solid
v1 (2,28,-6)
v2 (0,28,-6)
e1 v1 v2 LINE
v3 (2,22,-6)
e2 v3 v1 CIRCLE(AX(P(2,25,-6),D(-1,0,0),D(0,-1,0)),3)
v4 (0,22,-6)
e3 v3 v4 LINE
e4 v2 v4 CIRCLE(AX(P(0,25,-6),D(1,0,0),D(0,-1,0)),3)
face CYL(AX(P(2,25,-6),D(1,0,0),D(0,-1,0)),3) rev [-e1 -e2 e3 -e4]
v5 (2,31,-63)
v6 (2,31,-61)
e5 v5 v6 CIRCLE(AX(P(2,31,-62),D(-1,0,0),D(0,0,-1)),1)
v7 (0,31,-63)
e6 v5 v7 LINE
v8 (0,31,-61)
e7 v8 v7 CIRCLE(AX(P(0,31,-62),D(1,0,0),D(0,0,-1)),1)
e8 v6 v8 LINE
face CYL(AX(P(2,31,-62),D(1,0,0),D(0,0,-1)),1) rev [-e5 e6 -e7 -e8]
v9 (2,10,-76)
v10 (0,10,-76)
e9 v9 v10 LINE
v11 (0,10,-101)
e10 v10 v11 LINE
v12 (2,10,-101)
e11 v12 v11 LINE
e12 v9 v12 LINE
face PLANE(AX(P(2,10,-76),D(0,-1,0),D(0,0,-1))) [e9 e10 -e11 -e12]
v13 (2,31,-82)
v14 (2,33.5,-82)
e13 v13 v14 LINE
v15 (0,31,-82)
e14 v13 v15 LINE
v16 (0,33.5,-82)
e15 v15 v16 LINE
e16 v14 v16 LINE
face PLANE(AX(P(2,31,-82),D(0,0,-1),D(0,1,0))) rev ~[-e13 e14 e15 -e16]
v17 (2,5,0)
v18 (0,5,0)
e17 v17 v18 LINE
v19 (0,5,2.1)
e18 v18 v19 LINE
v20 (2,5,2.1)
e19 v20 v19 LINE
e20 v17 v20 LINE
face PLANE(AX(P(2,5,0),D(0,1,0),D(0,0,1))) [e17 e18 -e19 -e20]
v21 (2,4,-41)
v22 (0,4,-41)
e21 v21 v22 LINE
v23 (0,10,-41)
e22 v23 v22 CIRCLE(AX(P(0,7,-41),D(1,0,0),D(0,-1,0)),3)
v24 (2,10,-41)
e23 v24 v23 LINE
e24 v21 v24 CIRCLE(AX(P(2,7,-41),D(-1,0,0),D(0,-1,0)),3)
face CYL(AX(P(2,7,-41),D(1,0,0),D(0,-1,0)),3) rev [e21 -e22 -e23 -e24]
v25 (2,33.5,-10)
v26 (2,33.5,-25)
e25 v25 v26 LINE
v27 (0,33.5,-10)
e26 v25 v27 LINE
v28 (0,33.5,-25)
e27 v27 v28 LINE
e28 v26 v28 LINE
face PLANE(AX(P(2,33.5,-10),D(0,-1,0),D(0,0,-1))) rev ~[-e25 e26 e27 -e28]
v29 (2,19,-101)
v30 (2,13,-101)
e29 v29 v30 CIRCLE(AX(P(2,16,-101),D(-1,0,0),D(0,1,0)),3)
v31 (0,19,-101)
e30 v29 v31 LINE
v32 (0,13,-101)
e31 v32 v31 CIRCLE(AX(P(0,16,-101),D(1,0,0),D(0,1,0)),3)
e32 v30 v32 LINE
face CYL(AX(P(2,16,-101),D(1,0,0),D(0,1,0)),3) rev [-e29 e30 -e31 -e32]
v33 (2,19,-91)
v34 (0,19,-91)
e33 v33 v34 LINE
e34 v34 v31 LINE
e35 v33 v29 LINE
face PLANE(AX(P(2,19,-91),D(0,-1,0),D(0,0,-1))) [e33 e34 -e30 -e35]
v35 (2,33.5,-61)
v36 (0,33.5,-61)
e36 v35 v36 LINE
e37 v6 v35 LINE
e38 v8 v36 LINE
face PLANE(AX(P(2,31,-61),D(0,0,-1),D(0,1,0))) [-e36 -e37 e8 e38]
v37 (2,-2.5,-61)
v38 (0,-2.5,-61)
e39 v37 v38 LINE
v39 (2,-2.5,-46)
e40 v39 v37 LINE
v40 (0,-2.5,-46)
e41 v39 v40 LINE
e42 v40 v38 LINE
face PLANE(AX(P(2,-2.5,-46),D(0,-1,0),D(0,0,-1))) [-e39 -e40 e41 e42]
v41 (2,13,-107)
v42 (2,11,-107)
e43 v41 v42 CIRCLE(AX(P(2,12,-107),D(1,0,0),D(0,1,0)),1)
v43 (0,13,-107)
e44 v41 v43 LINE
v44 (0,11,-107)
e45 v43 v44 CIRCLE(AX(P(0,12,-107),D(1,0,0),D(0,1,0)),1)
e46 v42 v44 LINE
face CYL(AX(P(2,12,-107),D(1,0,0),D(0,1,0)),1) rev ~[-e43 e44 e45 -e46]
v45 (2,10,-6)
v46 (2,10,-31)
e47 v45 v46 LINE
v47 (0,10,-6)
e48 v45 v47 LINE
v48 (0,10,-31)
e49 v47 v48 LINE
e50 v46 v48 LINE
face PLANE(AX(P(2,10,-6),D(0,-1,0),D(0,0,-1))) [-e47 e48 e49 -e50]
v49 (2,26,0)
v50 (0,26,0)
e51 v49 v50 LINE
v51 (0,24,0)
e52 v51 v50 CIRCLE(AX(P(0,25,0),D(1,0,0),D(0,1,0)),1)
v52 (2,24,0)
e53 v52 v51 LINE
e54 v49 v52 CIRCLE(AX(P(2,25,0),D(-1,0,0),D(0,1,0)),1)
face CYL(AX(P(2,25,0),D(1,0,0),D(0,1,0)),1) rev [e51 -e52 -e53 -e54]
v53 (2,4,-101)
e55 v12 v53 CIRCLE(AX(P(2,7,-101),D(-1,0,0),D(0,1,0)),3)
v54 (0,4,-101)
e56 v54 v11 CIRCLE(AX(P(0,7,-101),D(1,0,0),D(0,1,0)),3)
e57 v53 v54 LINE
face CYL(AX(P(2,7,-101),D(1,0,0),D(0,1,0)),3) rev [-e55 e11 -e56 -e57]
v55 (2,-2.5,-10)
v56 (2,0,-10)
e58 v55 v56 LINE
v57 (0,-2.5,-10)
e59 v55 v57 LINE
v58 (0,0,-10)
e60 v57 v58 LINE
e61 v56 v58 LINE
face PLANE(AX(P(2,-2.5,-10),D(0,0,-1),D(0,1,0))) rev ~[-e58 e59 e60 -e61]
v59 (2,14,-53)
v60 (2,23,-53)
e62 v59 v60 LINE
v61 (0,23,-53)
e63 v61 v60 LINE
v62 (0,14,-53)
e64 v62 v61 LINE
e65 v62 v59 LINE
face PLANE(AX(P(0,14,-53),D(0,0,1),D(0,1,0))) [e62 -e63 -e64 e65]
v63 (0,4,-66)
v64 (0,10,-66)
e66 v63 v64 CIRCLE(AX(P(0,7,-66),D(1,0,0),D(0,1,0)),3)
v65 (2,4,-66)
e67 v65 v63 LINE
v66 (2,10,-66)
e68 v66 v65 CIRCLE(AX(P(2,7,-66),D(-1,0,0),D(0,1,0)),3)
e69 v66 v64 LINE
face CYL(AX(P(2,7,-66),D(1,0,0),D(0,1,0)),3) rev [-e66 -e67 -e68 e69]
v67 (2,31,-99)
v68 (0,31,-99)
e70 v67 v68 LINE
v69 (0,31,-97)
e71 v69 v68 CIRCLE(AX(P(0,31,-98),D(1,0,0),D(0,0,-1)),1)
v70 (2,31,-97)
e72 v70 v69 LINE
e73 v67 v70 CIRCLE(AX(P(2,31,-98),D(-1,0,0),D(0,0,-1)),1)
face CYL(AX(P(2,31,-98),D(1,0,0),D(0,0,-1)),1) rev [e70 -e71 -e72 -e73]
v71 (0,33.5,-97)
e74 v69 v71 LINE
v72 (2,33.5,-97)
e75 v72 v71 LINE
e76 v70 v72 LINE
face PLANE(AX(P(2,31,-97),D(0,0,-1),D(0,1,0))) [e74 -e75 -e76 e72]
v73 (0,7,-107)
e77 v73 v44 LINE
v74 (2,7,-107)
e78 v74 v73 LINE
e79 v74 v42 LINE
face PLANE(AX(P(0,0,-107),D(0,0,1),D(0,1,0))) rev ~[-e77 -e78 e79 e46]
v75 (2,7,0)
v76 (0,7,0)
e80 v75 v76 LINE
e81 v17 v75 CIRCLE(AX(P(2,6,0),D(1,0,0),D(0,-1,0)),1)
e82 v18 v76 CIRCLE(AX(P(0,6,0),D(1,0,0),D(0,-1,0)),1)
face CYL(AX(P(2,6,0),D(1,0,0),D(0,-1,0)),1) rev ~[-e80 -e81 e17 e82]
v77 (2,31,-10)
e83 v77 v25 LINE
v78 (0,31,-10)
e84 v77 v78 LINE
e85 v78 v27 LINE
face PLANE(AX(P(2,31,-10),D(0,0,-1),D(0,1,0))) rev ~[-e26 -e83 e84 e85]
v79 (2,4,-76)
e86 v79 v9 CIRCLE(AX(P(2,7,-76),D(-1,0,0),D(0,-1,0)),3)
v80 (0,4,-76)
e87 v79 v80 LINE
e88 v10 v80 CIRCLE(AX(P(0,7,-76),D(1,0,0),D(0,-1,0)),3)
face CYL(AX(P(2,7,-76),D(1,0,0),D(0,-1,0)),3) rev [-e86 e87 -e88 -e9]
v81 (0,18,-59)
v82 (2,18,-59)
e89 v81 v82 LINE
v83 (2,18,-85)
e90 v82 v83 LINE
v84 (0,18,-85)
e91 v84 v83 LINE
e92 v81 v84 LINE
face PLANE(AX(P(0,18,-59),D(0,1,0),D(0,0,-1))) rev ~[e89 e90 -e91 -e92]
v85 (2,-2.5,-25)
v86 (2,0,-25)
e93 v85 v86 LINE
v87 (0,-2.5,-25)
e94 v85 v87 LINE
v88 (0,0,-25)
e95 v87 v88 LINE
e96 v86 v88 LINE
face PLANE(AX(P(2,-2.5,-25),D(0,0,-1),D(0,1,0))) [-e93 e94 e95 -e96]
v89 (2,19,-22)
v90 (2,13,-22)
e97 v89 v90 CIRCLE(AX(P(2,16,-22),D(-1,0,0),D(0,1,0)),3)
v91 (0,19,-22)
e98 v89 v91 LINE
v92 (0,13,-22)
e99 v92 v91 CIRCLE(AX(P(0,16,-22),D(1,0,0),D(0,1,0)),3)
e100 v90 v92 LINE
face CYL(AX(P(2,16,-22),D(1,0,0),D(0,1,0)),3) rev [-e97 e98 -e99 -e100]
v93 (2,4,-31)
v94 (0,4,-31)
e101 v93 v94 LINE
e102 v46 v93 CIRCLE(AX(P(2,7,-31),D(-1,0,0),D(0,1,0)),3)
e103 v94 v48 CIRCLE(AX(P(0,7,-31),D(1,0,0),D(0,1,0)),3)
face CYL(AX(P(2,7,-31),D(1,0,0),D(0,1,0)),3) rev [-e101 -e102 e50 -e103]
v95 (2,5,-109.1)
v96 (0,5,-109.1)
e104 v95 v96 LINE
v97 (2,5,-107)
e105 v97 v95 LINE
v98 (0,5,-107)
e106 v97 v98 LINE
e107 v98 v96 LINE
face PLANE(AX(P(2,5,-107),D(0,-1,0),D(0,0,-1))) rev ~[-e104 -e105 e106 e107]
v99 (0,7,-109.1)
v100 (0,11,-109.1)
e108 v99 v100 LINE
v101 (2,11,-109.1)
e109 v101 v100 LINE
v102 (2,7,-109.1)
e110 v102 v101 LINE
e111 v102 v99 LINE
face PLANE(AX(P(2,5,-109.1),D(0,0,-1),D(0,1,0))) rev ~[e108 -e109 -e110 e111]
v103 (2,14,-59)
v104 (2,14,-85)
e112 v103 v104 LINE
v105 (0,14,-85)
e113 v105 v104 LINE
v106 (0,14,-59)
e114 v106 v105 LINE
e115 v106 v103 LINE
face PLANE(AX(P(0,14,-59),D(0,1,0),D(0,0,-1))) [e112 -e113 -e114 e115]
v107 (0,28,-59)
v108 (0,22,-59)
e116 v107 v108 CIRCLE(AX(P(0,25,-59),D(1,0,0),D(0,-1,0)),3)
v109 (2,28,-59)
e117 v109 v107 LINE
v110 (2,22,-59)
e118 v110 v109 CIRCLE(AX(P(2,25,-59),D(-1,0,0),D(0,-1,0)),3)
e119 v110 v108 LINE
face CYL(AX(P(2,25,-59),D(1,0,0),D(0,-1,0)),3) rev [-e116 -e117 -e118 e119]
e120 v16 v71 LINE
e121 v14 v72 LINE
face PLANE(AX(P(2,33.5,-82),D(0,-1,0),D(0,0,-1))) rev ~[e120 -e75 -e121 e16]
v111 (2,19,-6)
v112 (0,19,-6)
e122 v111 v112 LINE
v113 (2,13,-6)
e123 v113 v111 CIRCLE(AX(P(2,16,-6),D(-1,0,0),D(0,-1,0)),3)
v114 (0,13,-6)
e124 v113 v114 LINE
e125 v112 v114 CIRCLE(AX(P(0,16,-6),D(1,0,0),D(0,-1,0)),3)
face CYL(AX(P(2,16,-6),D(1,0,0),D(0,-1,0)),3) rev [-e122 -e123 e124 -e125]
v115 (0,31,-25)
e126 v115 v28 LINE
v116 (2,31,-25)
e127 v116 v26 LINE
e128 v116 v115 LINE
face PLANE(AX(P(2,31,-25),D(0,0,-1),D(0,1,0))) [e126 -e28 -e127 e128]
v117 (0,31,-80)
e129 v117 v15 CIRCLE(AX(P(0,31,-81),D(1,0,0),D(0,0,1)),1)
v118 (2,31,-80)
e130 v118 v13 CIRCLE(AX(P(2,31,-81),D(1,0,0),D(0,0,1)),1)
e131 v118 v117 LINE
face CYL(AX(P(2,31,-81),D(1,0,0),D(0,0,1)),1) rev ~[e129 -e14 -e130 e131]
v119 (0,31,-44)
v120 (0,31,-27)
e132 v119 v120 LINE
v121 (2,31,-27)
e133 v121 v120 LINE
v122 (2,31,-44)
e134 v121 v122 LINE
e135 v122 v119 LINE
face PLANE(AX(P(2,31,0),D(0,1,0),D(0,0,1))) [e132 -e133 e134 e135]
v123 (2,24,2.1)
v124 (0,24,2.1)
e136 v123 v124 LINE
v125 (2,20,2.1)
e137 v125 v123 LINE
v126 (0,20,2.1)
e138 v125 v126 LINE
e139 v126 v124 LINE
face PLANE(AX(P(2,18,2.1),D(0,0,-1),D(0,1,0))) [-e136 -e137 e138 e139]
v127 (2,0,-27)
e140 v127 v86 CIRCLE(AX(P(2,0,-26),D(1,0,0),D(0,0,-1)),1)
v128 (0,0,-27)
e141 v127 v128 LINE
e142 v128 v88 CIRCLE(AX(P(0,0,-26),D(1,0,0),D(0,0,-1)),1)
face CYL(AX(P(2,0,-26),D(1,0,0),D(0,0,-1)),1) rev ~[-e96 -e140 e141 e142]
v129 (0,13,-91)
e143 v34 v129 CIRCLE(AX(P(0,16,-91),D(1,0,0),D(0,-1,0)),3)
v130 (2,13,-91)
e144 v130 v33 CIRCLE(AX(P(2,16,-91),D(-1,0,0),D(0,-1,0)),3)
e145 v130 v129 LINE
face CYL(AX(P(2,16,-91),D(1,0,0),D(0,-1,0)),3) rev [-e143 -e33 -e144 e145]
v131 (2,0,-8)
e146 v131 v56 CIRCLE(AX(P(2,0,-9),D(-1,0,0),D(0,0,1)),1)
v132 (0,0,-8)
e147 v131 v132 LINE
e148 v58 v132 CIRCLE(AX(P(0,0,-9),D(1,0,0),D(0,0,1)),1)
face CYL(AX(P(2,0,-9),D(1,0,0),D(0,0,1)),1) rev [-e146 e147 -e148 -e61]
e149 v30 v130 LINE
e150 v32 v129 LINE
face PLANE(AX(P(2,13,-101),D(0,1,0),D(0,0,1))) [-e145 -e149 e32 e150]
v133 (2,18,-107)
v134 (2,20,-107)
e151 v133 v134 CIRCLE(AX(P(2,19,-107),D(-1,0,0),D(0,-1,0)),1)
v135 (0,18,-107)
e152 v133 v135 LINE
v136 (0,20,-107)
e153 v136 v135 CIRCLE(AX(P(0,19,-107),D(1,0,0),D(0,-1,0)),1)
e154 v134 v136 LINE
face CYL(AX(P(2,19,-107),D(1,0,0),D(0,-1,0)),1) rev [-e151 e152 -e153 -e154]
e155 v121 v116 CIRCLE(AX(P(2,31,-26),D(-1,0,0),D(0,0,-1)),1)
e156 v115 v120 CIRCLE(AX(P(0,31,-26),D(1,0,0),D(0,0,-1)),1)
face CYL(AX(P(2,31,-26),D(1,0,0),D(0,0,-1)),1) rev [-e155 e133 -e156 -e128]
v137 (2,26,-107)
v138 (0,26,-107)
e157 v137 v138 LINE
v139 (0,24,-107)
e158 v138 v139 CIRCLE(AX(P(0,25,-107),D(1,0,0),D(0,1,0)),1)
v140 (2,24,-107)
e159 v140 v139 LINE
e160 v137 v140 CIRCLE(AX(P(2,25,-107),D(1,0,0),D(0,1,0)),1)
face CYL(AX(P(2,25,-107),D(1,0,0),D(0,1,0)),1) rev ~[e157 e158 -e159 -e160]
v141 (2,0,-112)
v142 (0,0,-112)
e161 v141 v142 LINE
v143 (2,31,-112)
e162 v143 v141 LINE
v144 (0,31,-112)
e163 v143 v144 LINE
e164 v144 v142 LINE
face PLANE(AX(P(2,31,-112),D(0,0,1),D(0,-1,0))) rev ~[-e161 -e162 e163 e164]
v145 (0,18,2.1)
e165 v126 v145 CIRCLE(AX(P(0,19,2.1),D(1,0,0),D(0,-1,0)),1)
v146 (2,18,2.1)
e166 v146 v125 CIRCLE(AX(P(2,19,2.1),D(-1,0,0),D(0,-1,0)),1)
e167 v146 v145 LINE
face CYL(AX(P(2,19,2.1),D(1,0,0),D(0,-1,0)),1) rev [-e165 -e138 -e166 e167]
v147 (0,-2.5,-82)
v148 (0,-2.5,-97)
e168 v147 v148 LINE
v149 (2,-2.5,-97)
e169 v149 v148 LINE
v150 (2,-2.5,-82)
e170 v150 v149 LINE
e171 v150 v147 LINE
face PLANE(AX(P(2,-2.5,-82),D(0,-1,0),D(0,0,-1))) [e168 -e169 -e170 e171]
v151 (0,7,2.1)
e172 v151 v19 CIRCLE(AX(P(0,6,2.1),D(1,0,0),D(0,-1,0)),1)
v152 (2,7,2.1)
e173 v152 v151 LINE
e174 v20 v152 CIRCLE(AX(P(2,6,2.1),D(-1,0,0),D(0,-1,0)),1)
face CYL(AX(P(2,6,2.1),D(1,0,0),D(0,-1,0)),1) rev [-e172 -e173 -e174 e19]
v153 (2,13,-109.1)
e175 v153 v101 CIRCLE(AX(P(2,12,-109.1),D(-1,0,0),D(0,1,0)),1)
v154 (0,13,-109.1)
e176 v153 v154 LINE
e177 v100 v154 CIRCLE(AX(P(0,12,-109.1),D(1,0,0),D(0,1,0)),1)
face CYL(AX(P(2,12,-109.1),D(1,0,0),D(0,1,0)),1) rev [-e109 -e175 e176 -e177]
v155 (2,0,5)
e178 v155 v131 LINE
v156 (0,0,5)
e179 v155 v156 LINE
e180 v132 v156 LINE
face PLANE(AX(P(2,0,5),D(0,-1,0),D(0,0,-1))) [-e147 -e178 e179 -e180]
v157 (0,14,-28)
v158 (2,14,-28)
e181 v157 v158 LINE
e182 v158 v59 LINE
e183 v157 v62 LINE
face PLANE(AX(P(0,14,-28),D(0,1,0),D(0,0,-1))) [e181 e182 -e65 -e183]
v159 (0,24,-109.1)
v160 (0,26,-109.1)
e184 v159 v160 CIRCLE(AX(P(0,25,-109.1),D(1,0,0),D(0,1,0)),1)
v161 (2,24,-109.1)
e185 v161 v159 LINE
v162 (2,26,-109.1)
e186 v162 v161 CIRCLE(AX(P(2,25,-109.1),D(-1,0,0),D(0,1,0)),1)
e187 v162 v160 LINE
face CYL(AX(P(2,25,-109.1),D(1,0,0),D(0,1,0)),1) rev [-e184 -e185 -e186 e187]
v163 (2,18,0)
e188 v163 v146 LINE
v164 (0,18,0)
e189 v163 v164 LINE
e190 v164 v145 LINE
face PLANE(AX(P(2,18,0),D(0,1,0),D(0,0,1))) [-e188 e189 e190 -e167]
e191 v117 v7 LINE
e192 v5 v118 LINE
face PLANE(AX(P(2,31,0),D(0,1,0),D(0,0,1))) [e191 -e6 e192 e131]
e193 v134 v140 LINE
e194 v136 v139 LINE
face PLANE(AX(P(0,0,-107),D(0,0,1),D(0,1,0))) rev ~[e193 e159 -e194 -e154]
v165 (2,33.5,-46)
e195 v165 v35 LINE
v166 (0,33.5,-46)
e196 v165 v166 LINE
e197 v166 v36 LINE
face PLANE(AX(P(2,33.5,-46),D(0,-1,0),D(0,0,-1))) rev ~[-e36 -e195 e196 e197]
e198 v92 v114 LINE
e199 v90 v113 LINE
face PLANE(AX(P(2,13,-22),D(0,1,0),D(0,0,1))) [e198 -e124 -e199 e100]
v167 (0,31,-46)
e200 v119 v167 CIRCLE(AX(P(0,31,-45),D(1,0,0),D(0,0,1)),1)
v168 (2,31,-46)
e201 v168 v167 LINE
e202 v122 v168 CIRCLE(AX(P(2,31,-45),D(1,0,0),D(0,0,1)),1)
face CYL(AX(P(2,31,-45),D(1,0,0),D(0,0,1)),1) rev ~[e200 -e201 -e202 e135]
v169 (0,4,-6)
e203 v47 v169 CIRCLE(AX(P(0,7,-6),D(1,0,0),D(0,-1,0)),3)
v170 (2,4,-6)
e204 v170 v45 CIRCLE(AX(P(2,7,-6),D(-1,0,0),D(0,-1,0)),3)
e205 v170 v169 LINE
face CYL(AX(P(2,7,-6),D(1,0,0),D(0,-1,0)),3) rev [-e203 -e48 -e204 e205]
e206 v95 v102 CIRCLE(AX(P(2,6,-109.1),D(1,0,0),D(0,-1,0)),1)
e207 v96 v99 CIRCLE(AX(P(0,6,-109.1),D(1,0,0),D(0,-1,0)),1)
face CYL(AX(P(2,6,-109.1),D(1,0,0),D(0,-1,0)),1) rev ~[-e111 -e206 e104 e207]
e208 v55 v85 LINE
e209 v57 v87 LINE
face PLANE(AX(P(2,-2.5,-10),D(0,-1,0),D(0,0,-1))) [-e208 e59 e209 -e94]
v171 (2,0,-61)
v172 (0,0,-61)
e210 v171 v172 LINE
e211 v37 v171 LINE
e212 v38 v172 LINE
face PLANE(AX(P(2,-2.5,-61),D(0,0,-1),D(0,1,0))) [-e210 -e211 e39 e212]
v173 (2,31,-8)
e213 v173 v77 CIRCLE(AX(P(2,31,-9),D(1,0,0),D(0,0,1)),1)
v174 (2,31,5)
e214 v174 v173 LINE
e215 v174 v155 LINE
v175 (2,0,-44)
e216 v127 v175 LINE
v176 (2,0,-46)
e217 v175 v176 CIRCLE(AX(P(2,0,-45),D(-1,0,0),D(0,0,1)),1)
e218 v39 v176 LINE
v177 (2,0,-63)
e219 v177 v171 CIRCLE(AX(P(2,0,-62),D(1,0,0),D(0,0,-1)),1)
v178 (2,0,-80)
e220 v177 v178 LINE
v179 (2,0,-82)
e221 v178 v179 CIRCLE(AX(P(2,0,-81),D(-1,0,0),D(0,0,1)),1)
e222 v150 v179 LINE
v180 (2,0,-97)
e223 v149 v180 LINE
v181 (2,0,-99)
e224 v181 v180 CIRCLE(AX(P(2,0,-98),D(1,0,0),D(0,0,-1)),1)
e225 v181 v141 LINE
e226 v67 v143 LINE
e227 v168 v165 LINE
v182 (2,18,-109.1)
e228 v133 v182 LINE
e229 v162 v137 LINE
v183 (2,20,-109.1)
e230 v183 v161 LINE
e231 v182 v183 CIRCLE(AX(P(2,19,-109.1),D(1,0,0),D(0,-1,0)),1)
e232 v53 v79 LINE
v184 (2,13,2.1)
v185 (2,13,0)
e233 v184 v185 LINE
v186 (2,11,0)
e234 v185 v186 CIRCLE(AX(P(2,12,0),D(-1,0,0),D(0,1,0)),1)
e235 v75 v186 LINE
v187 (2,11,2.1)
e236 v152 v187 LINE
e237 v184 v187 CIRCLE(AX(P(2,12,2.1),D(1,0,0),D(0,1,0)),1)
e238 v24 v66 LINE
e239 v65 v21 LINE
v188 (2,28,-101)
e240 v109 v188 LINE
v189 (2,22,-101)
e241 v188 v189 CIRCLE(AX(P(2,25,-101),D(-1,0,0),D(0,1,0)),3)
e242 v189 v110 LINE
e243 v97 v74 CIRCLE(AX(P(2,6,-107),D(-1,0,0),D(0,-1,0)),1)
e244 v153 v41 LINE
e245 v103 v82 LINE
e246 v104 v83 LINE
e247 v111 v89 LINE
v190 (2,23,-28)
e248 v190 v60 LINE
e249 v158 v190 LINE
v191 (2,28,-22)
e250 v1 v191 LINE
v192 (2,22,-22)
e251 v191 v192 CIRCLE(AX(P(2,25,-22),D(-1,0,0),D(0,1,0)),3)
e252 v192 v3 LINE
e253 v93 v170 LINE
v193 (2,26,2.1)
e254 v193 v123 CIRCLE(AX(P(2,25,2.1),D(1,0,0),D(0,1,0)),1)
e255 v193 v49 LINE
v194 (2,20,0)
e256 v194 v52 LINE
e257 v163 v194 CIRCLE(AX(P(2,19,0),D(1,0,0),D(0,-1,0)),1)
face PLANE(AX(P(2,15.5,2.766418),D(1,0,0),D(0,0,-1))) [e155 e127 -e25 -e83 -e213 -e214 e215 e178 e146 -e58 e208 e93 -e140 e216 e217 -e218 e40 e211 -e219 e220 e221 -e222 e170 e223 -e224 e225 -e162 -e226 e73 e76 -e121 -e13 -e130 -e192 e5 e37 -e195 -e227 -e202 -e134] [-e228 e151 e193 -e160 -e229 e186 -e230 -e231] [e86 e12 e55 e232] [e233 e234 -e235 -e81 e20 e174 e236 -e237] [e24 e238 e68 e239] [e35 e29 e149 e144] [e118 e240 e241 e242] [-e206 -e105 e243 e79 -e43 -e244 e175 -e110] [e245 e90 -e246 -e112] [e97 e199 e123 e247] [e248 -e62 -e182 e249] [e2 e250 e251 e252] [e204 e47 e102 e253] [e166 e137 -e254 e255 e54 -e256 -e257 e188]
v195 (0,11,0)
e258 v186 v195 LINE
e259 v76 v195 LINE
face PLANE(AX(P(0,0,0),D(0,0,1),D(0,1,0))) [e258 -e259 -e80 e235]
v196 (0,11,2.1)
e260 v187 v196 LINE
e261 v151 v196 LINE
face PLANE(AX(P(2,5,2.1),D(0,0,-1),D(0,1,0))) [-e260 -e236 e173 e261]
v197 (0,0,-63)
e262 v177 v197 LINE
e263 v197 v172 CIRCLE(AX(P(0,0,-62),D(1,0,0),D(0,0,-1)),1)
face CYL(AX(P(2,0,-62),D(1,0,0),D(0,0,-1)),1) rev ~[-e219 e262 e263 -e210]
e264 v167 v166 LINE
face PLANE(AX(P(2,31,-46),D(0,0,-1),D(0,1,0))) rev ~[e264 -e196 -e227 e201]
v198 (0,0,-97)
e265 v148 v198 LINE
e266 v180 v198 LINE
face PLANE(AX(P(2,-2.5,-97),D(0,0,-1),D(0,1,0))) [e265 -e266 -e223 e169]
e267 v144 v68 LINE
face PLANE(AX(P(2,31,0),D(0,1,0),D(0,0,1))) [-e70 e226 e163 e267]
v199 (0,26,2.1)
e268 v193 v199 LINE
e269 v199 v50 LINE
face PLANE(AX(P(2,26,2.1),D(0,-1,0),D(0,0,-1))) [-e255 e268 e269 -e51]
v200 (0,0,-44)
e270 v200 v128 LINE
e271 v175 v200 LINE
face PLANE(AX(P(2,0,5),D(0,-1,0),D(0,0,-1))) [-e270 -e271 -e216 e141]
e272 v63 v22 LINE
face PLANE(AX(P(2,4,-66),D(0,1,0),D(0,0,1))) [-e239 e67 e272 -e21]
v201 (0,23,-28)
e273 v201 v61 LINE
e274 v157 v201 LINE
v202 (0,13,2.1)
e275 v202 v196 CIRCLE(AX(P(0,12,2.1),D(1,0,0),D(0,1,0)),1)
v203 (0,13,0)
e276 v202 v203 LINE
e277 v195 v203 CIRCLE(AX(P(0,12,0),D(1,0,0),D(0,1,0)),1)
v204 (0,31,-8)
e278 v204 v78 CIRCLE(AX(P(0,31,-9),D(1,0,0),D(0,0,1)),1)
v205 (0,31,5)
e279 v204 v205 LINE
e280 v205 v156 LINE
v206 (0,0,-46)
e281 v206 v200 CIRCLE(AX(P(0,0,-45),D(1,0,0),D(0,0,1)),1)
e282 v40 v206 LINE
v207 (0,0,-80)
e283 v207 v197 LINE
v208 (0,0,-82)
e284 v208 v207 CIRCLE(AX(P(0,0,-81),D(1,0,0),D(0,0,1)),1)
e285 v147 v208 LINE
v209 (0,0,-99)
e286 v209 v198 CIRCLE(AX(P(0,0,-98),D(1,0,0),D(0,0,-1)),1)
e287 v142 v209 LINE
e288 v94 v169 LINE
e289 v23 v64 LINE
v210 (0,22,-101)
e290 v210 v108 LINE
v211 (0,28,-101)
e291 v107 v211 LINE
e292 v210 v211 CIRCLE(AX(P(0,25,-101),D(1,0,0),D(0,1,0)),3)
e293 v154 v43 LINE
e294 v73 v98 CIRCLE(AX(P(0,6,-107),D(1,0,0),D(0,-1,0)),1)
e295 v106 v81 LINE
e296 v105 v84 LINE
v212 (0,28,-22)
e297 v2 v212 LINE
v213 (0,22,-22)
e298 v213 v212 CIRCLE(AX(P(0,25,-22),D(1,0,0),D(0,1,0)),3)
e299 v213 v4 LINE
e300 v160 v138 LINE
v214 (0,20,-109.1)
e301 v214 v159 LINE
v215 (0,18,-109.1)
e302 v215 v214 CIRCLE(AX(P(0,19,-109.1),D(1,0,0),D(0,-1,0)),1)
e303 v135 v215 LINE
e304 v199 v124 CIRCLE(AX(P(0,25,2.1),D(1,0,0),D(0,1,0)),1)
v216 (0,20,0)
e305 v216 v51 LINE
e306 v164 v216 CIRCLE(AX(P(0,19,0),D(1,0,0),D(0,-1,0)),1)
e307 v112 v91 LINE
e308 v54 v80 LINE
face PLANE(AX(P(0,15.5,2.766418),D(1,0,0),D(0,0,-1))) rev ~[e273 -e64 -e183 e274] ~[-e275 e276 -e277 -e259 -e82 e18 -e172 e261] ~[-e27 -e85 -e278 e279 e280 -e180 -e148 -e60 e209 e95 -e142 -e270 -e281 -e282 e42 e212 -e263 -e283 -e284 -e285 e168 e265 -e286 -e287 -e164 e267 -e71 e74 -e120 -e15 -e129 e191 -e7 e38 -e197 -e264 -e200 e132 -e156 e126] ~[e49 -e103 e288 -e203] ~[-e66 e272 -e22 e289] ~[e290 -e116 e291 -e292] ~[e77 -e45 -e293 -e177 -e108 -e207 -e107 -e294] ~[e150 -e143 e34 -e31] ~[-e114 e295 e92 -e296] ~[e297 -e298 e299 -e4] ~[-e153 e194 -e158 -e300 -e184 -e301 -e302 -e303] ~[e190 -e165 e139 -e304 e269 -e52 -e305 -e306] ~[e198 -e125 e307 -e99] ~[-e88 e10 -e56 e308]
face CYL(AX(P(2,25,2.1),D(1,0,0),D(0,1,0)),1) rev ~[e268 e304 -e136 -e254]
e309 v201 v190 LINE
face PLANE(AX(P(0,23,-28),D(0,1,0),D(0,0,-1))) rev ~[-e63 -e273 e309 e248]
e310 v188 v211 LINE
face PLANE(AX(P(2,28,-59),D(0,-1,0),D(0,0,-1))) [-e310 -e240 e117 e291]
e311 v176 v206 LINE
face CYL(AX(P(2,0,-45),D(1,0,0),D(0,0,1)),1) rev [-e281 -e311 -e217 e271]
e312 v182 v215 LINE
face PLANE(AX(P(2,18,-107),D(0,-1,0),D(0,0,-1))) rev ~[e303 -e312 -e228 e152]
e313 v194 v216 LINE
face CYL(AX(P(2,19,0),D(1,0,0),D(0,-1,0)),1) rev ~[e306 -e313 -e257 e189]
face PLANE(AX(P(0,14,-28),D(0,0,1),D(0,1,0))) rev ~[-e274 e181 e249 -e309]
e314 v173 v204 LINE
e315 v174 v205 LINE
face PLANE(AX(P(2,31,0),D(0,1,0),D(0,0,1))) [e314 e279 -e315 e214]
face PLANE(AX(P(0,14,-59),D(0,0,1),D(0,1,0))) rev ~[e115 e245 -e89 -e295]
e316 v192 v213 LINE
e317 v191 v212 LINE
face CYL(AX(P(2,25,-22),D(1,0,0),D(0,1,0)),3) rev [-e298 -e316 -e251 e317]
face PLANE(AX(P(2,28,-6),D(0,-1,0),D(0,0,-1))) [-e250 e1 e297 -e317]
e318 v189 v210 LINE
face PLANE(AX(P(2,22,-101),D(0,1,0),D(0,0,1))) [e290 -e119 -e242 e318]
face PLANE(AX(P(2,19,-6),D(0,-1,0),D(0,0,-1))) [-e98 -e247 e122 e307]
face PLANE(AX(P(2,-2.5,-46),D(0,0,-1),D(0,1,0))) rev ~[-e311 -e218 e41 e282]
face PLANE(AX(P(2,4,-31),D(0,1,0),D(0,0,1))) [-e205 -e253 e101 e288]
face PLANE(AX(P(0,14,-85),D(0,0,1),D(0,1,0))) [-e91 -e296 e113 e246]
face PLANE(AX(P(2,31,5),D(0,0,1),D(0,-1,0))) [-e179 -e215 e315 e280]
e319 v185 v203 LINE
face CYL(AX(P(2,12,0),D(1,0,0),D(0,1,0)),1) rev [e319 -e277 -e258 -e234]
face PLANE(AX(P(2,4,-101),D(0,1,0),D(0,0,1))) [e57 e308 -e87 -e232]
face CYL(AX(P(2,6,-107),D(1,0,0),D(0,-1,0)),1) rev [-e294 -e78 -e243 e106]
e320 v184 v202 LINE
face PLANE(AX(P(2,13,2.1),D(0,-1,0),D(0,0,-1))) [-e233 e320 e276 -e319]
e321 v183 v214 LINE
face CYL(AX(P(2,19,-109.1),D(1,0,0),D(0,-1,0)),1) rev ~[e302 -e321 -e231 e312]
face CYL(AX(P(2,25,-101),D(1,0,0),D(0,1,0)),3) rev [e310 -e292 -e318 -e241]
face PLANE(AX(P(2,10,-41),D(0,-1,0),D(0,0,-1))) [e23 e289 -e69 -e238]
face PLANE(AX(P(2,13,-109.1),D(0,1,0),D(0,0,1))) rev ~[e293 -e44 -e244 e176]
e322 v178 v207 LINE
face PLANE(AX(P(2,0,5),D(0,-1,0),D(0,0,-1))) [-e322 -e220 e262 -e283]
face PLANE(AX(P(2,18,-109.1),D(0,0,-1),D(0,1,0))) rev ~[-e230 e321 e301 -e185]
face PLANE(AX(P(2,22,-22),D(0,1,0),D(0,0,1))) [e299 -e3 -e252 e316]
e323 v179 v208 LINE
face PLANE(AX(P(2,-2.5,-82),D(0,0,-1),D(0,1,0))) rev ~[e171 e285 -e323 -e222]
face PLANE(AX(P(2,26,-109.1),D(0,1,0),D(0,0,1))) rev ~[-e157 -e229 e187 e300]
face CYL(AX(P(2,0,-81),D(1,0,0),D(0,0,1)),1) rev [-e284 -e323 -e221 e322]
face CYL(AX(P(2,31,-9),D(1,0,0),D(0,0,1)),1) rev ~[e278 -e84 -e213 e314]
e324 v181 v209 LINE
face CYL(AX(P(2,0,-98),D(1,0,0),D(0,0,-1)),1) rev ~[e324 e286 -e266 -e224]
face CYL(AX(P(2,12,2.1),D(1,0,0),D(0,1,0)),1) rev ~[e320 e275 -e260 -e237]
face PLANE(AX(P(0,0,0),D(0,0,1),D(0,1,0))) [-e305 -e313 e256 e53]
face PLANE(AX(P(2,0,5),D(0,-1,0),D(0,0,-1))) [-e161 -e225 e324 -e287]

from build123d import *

# Parameters (mm, degrees)
SKETCH_1_W          = 107
SKETCH_1_H          = 31
SKETCH_1_W_2        = 26
SKETCH_1_H_2        = 4
SKETCH_1_W_3        = 25
SKETCH_1_H_3        = 9
EXTRUDE_1_DEPTH     = 2
EXTRUDE_2_DEPTH     = 2
CUT_EXTRUDE_1_DEPTH = 117.228223767
SKETCH_5_W          = 15
SKETCH_5_H          = 2.5
EXTRUDE_3_DEPTH     = 2
CUT_EXTRUDE_2_DEPTH = 117.919844338
CUT_EXTRUDE_3_DEPTH = 117.919844338


with BuildPart() as part:
    # 草图1 → 凸台-拉伸1 (new body)
    with BuildSketch(Plane(origin=(0, 0, 0), x_dir=(0, 0, -1), z_dir=(1, 0, 0))):
        with Locations((53.5, 15.5)):
            Rectangle(SKETCH_1_W, SKETCH_1_H)
        with Locations((72, 16)):
            Rectangle(SKETCH_1_W_2, SKETCH_1_H_2, mode=Mode.SUBTRACT)
        with Locations((40.5, 18.5)):
            Rectangle(SKETCH_1_W_3, SKETCH_1_H_3, mode=Mode.SUBTRACT)
    extrude(amount=EXTRUDE_1_DEPTH)

    # 草图2 → 凸台-拉伸2 (add)
    with BuildSketch(Plane(origin=(2, 0, 0), x_dir=(0, 0, -1), z_dir=(1, 0, 0))):
        Polygon((0, 31), (-5, 31), (-5, 0), (0, 0), (0, 5), (-2.1, 5), (-2.1, 13), (0, 13), (0, 18), (-2.1, 18), (-2.1, 26), (0, 26), align=None)
        Polygon((107, 0), (107, 5), (109.1, 5), (109.1, 13), (107, 13), (107, 18), (109.1, 18), (109.1, 26), (107, 26), (107, 31), (112, 31), (112, 0), align=None)
    extrude(amount=-EXTRUDE_2_DEPTH)

    # 草图3 → 切除-拉伸1 (cut, through all)
    with BuildSketch(Plane(origin=(2, 0, 0), x_dir=(0, 0, -1), z_dir=(1, 0, 0))):
        with BuildLine():
            Line((-2.1, 24), (-2.1, 26))
            ThreePointArc((-2.1, 26), (-3.1, 25), (-2.1, 24))
        make_face()
        with BuildLine():
            Line((0, 24), (0, 26))
            ThreePointArc((0, 26), (1, 25), (0, 24))
        make_face()
        with BuildLine():
            Line((0, 20), (0, 18))
            ThreePointArc((0, 18), (1, 19), (0, 20))
        make_face()
        with BuildLine():
            Line((-2.1, 20), (-2.1, 18))
            ThreePointArc((-2.1, 18), (-3.1, 19), (-2.1, 20))
        make_face()
        with BuildLine():
            Line((-2.1, 11), (-2.1, 13))
            ThreePointArc((-2.1, 13), (-3.1, 12), (-2.1, 11))
        make_face()
        with BuildLine():
            Line((0, 11), (0, 13))
            ThreePointArc((0, 13), (1, 12), (0, 11))
        make_face()
        with BuildLine():
            Line((0, 7), (0, 5))
            ThreePointArc((0, 5), (1, 6), (0, 7))
        make_face()
        with BuildLine():
            Line((-2.1, 7), (-2.1, 5))
            ThreePointArc((-2.1, 5), (-3.1, 6), (-2.1, 7))
        make_face()
        with BuildLine():
            Line((109.1, 7), (109.1, 5))
            ThreePointArc((109.1, 5), (110.1, 6), (109.1, 7))
        make_face()
        with BuildLine():
            Line((107, 7), (107, 5))
            ThreePointArc((107, 5), (106, 6), (107, 7))
        make_face()
        with BuildLine():
            Line((107, 11), (107, 13))
            ThreePointArc((107, 13), (106, 12), (107, 11))
        make_face()
        with BuildLine():
            Line((109.1, 11), (109.1, 13))
            ThreePointArc((109.1, 13), (110.1, 12), (109.1, 11))
        make_face()
        with BuildLine():
            Line((109.1, 20), (109.1, 18))
            ThreePointArc((109.1, 18), (110.1, 19), (109.1, 20))
        make_face()
        with BuildLine():
            Line((107, 20), (107, 18))
            ThreePointArc((107, 18), (106, 19), (107, 20))
        make_face()
        with BuildLine():
            Line((107, 24), (107, 26))
            ThreePointArc((107, 26), (106, 25), (107, 24))
        make_face()
        with BuildLine():
            Line((109.1, 24), (109.1, 26))
            ThreePointArc((109.1, 26), (110.1, 25), (109.1, 24))
        make_face()
    extrude(amount=-CUT_EXTRUDE_1_DEPTH, mode=Mode.SUBTRACT)

    # 草图5 → 凸台-拉伸3 (add)
    with BuildSketch(Plane(origin=(2, 0, 0), x_dir=(0, 0, -1), z_dir=(1, 0, 0))):
        with Locations((17.5, 32.25)):
            Rectangle(SKETCH_5_W, SKETCH_5_H)
        with Locations((53.5, 32.25)):
            Rectangle(SKETCH_5_W, SKETCH_5_H)
        with Locations((89.5, 32.25)):
            Rectangle(SKETCH_5_W, SKETCH_5_H)
        with Locations((89.5, -1.25)):
            Rectangle(SKETCH_5_W, SKETCH_5_H)
        with Locations((53.5, -1.25)):
            Rectangle(SKETCH_5_W, SKETCH_5_H)
        with Locations((17.5, -1.25)):
            Rectangle(SKETCH_5_W, SKETCH_5_H)
    extrude(amount=-EXTRUDE_3_DEPTH)

    # 草图6 → 切除-拉伸2 (cut, through all)
    with BuildSketch(Plane(origin=(2, 0, 0), x_dir=(0, 0, -1), z_dir=(1, 0, 0))):
        with BuildLine():
            Line((10, 31), (8, 31))
            ThreePointArc((8, 31), (9, 30), (10, 31))
        make_face()
        with BuildLine():
            Line((25, 31), (27, 31))
            ThreePointArc((27, 31), (26, 30), (25, 31))
        make_face()
        with BuildLine():
            Line((46, 31), (44, 31))
            ThreePointArc((44, 31), (45, 30), (46, 31))
        make_face()
        with BuildLine():
            Line((61, 31), (63, 31))
            ThreePointArc((63, 31), (62, 30), (61, 31))
        make_face()
        with BuildLine():
            Line((82, 31), (80, 31))
            ThreePointArc((80, 31), (81, 30), (82, 31))
        make_face()
        with BuildLine():
            Line((97, 31), (99, 31))
            ThreePointArc((99, 31), (98, 30), (97, 31))
        make_face()
        with BuildLine():
            Line((97, 0), (99, 0))
            ThreePointArc((99, 0), (98, 1), (97, 0))
        make_face()
        with BuildLine():
            Line((82, 0), (80, 0))
            ThreePointArc((80, 0), (81, 1), (82, 0))
        make_face()
        with BuildLine():
            Line((61, 0), (63, 0))
            ThreePointArc((63, 0), (62, 1), (61, 0))
        make_face()
        with BuildLine():
            Line((46, 0), (44, 0))
            ThreePointArc((44, 0), (45, 1), (46, 0))
        make_face()
        with BuildLine():
            Line((25, 0), (27, 0))
            ThreePointArc((27, 0), (26, 1), (25, 0))
        make_face()
        with BuildLine():
            Line((10, 0), (8, 0))
            ThreePointArc((8, 0), (9, 1), (10, 0))
        make_face()
    extrude(amount=-CUT_EXTRUDE_2_DEPTH, mode=Mode.SUBTRACT)

    # 草图7 → 切除-拉伸3 (cut, through all)
    with BuildSketch(Plane(origin=(2, 0, 0), x_dir=(0, 0, -1), z_dir=(1, 0, 0))):
        with BuildLine():
            Line((6, 28), (22, 28))
            ThreePointArc((22, 28), (25, 25), (22, 22))
            Line((22, 22), (6, 22))
            ThreePointArc((6, 22), (3, 25), (6, 28))
        make_face()
        with BuildLine():
            Line((6, 10), (31, 10))
            ThreePointArc((31, 10), (34, 7), (31, 4))
            Line((31, 4), (6, 4))
            ThreePointArc((6, 4), (3, 7), (6, 10))
        make_face()
        with BuildLine():
            Line((6, 19), (22, 19))
            ThreePointArc((22, 19), (25, 16), (22, 13))
            Line((22, 13), (6, 13))
            ThreePointArc((6, 13), (3, 16), (6, 19))
        make_face()
        with BuildLine():
            Line((41, 10), (66, 10))
            ThreePointArc((66, 10), (69, 7), (66, 4))
            Line((66, 4), (41, 4))
            ThreePointArc((41, 4), (38, 7), (41, 10))
        make_face()
        with BuildLine():
            Line((76, 10), (101, 10))
            ThreePointArc((101, 10), (104, 7), (101, 4))
            Line((101, 4), (76, 4))
            ThreePointArc((76, 4), (73, 7), (76, 10))
        make_face()
        with BuildLine():
            Line((59, 28), (101, 28))
            ThreePointArc((101, 28), (104, 25), (101, 22))
            Line((101, 22), (59, 22))
            ThreePointArc((59, 22), (56, 25), (59, 28))
        make_face()
        with BuildLine():
            Line((91, 19), (101, 19))
            ThreePointArc((101, 19), (104, 16), (101, 13))
            Line((101, 13), (91, 13))
            ThreePointArc((91, 13), (88, 16), (91, 19))
        make_face()
    extrude(amount=-CUT_EXTRUDE_3_DEPTH, mode=Mode.SUBTRACT)


solid = part.part
